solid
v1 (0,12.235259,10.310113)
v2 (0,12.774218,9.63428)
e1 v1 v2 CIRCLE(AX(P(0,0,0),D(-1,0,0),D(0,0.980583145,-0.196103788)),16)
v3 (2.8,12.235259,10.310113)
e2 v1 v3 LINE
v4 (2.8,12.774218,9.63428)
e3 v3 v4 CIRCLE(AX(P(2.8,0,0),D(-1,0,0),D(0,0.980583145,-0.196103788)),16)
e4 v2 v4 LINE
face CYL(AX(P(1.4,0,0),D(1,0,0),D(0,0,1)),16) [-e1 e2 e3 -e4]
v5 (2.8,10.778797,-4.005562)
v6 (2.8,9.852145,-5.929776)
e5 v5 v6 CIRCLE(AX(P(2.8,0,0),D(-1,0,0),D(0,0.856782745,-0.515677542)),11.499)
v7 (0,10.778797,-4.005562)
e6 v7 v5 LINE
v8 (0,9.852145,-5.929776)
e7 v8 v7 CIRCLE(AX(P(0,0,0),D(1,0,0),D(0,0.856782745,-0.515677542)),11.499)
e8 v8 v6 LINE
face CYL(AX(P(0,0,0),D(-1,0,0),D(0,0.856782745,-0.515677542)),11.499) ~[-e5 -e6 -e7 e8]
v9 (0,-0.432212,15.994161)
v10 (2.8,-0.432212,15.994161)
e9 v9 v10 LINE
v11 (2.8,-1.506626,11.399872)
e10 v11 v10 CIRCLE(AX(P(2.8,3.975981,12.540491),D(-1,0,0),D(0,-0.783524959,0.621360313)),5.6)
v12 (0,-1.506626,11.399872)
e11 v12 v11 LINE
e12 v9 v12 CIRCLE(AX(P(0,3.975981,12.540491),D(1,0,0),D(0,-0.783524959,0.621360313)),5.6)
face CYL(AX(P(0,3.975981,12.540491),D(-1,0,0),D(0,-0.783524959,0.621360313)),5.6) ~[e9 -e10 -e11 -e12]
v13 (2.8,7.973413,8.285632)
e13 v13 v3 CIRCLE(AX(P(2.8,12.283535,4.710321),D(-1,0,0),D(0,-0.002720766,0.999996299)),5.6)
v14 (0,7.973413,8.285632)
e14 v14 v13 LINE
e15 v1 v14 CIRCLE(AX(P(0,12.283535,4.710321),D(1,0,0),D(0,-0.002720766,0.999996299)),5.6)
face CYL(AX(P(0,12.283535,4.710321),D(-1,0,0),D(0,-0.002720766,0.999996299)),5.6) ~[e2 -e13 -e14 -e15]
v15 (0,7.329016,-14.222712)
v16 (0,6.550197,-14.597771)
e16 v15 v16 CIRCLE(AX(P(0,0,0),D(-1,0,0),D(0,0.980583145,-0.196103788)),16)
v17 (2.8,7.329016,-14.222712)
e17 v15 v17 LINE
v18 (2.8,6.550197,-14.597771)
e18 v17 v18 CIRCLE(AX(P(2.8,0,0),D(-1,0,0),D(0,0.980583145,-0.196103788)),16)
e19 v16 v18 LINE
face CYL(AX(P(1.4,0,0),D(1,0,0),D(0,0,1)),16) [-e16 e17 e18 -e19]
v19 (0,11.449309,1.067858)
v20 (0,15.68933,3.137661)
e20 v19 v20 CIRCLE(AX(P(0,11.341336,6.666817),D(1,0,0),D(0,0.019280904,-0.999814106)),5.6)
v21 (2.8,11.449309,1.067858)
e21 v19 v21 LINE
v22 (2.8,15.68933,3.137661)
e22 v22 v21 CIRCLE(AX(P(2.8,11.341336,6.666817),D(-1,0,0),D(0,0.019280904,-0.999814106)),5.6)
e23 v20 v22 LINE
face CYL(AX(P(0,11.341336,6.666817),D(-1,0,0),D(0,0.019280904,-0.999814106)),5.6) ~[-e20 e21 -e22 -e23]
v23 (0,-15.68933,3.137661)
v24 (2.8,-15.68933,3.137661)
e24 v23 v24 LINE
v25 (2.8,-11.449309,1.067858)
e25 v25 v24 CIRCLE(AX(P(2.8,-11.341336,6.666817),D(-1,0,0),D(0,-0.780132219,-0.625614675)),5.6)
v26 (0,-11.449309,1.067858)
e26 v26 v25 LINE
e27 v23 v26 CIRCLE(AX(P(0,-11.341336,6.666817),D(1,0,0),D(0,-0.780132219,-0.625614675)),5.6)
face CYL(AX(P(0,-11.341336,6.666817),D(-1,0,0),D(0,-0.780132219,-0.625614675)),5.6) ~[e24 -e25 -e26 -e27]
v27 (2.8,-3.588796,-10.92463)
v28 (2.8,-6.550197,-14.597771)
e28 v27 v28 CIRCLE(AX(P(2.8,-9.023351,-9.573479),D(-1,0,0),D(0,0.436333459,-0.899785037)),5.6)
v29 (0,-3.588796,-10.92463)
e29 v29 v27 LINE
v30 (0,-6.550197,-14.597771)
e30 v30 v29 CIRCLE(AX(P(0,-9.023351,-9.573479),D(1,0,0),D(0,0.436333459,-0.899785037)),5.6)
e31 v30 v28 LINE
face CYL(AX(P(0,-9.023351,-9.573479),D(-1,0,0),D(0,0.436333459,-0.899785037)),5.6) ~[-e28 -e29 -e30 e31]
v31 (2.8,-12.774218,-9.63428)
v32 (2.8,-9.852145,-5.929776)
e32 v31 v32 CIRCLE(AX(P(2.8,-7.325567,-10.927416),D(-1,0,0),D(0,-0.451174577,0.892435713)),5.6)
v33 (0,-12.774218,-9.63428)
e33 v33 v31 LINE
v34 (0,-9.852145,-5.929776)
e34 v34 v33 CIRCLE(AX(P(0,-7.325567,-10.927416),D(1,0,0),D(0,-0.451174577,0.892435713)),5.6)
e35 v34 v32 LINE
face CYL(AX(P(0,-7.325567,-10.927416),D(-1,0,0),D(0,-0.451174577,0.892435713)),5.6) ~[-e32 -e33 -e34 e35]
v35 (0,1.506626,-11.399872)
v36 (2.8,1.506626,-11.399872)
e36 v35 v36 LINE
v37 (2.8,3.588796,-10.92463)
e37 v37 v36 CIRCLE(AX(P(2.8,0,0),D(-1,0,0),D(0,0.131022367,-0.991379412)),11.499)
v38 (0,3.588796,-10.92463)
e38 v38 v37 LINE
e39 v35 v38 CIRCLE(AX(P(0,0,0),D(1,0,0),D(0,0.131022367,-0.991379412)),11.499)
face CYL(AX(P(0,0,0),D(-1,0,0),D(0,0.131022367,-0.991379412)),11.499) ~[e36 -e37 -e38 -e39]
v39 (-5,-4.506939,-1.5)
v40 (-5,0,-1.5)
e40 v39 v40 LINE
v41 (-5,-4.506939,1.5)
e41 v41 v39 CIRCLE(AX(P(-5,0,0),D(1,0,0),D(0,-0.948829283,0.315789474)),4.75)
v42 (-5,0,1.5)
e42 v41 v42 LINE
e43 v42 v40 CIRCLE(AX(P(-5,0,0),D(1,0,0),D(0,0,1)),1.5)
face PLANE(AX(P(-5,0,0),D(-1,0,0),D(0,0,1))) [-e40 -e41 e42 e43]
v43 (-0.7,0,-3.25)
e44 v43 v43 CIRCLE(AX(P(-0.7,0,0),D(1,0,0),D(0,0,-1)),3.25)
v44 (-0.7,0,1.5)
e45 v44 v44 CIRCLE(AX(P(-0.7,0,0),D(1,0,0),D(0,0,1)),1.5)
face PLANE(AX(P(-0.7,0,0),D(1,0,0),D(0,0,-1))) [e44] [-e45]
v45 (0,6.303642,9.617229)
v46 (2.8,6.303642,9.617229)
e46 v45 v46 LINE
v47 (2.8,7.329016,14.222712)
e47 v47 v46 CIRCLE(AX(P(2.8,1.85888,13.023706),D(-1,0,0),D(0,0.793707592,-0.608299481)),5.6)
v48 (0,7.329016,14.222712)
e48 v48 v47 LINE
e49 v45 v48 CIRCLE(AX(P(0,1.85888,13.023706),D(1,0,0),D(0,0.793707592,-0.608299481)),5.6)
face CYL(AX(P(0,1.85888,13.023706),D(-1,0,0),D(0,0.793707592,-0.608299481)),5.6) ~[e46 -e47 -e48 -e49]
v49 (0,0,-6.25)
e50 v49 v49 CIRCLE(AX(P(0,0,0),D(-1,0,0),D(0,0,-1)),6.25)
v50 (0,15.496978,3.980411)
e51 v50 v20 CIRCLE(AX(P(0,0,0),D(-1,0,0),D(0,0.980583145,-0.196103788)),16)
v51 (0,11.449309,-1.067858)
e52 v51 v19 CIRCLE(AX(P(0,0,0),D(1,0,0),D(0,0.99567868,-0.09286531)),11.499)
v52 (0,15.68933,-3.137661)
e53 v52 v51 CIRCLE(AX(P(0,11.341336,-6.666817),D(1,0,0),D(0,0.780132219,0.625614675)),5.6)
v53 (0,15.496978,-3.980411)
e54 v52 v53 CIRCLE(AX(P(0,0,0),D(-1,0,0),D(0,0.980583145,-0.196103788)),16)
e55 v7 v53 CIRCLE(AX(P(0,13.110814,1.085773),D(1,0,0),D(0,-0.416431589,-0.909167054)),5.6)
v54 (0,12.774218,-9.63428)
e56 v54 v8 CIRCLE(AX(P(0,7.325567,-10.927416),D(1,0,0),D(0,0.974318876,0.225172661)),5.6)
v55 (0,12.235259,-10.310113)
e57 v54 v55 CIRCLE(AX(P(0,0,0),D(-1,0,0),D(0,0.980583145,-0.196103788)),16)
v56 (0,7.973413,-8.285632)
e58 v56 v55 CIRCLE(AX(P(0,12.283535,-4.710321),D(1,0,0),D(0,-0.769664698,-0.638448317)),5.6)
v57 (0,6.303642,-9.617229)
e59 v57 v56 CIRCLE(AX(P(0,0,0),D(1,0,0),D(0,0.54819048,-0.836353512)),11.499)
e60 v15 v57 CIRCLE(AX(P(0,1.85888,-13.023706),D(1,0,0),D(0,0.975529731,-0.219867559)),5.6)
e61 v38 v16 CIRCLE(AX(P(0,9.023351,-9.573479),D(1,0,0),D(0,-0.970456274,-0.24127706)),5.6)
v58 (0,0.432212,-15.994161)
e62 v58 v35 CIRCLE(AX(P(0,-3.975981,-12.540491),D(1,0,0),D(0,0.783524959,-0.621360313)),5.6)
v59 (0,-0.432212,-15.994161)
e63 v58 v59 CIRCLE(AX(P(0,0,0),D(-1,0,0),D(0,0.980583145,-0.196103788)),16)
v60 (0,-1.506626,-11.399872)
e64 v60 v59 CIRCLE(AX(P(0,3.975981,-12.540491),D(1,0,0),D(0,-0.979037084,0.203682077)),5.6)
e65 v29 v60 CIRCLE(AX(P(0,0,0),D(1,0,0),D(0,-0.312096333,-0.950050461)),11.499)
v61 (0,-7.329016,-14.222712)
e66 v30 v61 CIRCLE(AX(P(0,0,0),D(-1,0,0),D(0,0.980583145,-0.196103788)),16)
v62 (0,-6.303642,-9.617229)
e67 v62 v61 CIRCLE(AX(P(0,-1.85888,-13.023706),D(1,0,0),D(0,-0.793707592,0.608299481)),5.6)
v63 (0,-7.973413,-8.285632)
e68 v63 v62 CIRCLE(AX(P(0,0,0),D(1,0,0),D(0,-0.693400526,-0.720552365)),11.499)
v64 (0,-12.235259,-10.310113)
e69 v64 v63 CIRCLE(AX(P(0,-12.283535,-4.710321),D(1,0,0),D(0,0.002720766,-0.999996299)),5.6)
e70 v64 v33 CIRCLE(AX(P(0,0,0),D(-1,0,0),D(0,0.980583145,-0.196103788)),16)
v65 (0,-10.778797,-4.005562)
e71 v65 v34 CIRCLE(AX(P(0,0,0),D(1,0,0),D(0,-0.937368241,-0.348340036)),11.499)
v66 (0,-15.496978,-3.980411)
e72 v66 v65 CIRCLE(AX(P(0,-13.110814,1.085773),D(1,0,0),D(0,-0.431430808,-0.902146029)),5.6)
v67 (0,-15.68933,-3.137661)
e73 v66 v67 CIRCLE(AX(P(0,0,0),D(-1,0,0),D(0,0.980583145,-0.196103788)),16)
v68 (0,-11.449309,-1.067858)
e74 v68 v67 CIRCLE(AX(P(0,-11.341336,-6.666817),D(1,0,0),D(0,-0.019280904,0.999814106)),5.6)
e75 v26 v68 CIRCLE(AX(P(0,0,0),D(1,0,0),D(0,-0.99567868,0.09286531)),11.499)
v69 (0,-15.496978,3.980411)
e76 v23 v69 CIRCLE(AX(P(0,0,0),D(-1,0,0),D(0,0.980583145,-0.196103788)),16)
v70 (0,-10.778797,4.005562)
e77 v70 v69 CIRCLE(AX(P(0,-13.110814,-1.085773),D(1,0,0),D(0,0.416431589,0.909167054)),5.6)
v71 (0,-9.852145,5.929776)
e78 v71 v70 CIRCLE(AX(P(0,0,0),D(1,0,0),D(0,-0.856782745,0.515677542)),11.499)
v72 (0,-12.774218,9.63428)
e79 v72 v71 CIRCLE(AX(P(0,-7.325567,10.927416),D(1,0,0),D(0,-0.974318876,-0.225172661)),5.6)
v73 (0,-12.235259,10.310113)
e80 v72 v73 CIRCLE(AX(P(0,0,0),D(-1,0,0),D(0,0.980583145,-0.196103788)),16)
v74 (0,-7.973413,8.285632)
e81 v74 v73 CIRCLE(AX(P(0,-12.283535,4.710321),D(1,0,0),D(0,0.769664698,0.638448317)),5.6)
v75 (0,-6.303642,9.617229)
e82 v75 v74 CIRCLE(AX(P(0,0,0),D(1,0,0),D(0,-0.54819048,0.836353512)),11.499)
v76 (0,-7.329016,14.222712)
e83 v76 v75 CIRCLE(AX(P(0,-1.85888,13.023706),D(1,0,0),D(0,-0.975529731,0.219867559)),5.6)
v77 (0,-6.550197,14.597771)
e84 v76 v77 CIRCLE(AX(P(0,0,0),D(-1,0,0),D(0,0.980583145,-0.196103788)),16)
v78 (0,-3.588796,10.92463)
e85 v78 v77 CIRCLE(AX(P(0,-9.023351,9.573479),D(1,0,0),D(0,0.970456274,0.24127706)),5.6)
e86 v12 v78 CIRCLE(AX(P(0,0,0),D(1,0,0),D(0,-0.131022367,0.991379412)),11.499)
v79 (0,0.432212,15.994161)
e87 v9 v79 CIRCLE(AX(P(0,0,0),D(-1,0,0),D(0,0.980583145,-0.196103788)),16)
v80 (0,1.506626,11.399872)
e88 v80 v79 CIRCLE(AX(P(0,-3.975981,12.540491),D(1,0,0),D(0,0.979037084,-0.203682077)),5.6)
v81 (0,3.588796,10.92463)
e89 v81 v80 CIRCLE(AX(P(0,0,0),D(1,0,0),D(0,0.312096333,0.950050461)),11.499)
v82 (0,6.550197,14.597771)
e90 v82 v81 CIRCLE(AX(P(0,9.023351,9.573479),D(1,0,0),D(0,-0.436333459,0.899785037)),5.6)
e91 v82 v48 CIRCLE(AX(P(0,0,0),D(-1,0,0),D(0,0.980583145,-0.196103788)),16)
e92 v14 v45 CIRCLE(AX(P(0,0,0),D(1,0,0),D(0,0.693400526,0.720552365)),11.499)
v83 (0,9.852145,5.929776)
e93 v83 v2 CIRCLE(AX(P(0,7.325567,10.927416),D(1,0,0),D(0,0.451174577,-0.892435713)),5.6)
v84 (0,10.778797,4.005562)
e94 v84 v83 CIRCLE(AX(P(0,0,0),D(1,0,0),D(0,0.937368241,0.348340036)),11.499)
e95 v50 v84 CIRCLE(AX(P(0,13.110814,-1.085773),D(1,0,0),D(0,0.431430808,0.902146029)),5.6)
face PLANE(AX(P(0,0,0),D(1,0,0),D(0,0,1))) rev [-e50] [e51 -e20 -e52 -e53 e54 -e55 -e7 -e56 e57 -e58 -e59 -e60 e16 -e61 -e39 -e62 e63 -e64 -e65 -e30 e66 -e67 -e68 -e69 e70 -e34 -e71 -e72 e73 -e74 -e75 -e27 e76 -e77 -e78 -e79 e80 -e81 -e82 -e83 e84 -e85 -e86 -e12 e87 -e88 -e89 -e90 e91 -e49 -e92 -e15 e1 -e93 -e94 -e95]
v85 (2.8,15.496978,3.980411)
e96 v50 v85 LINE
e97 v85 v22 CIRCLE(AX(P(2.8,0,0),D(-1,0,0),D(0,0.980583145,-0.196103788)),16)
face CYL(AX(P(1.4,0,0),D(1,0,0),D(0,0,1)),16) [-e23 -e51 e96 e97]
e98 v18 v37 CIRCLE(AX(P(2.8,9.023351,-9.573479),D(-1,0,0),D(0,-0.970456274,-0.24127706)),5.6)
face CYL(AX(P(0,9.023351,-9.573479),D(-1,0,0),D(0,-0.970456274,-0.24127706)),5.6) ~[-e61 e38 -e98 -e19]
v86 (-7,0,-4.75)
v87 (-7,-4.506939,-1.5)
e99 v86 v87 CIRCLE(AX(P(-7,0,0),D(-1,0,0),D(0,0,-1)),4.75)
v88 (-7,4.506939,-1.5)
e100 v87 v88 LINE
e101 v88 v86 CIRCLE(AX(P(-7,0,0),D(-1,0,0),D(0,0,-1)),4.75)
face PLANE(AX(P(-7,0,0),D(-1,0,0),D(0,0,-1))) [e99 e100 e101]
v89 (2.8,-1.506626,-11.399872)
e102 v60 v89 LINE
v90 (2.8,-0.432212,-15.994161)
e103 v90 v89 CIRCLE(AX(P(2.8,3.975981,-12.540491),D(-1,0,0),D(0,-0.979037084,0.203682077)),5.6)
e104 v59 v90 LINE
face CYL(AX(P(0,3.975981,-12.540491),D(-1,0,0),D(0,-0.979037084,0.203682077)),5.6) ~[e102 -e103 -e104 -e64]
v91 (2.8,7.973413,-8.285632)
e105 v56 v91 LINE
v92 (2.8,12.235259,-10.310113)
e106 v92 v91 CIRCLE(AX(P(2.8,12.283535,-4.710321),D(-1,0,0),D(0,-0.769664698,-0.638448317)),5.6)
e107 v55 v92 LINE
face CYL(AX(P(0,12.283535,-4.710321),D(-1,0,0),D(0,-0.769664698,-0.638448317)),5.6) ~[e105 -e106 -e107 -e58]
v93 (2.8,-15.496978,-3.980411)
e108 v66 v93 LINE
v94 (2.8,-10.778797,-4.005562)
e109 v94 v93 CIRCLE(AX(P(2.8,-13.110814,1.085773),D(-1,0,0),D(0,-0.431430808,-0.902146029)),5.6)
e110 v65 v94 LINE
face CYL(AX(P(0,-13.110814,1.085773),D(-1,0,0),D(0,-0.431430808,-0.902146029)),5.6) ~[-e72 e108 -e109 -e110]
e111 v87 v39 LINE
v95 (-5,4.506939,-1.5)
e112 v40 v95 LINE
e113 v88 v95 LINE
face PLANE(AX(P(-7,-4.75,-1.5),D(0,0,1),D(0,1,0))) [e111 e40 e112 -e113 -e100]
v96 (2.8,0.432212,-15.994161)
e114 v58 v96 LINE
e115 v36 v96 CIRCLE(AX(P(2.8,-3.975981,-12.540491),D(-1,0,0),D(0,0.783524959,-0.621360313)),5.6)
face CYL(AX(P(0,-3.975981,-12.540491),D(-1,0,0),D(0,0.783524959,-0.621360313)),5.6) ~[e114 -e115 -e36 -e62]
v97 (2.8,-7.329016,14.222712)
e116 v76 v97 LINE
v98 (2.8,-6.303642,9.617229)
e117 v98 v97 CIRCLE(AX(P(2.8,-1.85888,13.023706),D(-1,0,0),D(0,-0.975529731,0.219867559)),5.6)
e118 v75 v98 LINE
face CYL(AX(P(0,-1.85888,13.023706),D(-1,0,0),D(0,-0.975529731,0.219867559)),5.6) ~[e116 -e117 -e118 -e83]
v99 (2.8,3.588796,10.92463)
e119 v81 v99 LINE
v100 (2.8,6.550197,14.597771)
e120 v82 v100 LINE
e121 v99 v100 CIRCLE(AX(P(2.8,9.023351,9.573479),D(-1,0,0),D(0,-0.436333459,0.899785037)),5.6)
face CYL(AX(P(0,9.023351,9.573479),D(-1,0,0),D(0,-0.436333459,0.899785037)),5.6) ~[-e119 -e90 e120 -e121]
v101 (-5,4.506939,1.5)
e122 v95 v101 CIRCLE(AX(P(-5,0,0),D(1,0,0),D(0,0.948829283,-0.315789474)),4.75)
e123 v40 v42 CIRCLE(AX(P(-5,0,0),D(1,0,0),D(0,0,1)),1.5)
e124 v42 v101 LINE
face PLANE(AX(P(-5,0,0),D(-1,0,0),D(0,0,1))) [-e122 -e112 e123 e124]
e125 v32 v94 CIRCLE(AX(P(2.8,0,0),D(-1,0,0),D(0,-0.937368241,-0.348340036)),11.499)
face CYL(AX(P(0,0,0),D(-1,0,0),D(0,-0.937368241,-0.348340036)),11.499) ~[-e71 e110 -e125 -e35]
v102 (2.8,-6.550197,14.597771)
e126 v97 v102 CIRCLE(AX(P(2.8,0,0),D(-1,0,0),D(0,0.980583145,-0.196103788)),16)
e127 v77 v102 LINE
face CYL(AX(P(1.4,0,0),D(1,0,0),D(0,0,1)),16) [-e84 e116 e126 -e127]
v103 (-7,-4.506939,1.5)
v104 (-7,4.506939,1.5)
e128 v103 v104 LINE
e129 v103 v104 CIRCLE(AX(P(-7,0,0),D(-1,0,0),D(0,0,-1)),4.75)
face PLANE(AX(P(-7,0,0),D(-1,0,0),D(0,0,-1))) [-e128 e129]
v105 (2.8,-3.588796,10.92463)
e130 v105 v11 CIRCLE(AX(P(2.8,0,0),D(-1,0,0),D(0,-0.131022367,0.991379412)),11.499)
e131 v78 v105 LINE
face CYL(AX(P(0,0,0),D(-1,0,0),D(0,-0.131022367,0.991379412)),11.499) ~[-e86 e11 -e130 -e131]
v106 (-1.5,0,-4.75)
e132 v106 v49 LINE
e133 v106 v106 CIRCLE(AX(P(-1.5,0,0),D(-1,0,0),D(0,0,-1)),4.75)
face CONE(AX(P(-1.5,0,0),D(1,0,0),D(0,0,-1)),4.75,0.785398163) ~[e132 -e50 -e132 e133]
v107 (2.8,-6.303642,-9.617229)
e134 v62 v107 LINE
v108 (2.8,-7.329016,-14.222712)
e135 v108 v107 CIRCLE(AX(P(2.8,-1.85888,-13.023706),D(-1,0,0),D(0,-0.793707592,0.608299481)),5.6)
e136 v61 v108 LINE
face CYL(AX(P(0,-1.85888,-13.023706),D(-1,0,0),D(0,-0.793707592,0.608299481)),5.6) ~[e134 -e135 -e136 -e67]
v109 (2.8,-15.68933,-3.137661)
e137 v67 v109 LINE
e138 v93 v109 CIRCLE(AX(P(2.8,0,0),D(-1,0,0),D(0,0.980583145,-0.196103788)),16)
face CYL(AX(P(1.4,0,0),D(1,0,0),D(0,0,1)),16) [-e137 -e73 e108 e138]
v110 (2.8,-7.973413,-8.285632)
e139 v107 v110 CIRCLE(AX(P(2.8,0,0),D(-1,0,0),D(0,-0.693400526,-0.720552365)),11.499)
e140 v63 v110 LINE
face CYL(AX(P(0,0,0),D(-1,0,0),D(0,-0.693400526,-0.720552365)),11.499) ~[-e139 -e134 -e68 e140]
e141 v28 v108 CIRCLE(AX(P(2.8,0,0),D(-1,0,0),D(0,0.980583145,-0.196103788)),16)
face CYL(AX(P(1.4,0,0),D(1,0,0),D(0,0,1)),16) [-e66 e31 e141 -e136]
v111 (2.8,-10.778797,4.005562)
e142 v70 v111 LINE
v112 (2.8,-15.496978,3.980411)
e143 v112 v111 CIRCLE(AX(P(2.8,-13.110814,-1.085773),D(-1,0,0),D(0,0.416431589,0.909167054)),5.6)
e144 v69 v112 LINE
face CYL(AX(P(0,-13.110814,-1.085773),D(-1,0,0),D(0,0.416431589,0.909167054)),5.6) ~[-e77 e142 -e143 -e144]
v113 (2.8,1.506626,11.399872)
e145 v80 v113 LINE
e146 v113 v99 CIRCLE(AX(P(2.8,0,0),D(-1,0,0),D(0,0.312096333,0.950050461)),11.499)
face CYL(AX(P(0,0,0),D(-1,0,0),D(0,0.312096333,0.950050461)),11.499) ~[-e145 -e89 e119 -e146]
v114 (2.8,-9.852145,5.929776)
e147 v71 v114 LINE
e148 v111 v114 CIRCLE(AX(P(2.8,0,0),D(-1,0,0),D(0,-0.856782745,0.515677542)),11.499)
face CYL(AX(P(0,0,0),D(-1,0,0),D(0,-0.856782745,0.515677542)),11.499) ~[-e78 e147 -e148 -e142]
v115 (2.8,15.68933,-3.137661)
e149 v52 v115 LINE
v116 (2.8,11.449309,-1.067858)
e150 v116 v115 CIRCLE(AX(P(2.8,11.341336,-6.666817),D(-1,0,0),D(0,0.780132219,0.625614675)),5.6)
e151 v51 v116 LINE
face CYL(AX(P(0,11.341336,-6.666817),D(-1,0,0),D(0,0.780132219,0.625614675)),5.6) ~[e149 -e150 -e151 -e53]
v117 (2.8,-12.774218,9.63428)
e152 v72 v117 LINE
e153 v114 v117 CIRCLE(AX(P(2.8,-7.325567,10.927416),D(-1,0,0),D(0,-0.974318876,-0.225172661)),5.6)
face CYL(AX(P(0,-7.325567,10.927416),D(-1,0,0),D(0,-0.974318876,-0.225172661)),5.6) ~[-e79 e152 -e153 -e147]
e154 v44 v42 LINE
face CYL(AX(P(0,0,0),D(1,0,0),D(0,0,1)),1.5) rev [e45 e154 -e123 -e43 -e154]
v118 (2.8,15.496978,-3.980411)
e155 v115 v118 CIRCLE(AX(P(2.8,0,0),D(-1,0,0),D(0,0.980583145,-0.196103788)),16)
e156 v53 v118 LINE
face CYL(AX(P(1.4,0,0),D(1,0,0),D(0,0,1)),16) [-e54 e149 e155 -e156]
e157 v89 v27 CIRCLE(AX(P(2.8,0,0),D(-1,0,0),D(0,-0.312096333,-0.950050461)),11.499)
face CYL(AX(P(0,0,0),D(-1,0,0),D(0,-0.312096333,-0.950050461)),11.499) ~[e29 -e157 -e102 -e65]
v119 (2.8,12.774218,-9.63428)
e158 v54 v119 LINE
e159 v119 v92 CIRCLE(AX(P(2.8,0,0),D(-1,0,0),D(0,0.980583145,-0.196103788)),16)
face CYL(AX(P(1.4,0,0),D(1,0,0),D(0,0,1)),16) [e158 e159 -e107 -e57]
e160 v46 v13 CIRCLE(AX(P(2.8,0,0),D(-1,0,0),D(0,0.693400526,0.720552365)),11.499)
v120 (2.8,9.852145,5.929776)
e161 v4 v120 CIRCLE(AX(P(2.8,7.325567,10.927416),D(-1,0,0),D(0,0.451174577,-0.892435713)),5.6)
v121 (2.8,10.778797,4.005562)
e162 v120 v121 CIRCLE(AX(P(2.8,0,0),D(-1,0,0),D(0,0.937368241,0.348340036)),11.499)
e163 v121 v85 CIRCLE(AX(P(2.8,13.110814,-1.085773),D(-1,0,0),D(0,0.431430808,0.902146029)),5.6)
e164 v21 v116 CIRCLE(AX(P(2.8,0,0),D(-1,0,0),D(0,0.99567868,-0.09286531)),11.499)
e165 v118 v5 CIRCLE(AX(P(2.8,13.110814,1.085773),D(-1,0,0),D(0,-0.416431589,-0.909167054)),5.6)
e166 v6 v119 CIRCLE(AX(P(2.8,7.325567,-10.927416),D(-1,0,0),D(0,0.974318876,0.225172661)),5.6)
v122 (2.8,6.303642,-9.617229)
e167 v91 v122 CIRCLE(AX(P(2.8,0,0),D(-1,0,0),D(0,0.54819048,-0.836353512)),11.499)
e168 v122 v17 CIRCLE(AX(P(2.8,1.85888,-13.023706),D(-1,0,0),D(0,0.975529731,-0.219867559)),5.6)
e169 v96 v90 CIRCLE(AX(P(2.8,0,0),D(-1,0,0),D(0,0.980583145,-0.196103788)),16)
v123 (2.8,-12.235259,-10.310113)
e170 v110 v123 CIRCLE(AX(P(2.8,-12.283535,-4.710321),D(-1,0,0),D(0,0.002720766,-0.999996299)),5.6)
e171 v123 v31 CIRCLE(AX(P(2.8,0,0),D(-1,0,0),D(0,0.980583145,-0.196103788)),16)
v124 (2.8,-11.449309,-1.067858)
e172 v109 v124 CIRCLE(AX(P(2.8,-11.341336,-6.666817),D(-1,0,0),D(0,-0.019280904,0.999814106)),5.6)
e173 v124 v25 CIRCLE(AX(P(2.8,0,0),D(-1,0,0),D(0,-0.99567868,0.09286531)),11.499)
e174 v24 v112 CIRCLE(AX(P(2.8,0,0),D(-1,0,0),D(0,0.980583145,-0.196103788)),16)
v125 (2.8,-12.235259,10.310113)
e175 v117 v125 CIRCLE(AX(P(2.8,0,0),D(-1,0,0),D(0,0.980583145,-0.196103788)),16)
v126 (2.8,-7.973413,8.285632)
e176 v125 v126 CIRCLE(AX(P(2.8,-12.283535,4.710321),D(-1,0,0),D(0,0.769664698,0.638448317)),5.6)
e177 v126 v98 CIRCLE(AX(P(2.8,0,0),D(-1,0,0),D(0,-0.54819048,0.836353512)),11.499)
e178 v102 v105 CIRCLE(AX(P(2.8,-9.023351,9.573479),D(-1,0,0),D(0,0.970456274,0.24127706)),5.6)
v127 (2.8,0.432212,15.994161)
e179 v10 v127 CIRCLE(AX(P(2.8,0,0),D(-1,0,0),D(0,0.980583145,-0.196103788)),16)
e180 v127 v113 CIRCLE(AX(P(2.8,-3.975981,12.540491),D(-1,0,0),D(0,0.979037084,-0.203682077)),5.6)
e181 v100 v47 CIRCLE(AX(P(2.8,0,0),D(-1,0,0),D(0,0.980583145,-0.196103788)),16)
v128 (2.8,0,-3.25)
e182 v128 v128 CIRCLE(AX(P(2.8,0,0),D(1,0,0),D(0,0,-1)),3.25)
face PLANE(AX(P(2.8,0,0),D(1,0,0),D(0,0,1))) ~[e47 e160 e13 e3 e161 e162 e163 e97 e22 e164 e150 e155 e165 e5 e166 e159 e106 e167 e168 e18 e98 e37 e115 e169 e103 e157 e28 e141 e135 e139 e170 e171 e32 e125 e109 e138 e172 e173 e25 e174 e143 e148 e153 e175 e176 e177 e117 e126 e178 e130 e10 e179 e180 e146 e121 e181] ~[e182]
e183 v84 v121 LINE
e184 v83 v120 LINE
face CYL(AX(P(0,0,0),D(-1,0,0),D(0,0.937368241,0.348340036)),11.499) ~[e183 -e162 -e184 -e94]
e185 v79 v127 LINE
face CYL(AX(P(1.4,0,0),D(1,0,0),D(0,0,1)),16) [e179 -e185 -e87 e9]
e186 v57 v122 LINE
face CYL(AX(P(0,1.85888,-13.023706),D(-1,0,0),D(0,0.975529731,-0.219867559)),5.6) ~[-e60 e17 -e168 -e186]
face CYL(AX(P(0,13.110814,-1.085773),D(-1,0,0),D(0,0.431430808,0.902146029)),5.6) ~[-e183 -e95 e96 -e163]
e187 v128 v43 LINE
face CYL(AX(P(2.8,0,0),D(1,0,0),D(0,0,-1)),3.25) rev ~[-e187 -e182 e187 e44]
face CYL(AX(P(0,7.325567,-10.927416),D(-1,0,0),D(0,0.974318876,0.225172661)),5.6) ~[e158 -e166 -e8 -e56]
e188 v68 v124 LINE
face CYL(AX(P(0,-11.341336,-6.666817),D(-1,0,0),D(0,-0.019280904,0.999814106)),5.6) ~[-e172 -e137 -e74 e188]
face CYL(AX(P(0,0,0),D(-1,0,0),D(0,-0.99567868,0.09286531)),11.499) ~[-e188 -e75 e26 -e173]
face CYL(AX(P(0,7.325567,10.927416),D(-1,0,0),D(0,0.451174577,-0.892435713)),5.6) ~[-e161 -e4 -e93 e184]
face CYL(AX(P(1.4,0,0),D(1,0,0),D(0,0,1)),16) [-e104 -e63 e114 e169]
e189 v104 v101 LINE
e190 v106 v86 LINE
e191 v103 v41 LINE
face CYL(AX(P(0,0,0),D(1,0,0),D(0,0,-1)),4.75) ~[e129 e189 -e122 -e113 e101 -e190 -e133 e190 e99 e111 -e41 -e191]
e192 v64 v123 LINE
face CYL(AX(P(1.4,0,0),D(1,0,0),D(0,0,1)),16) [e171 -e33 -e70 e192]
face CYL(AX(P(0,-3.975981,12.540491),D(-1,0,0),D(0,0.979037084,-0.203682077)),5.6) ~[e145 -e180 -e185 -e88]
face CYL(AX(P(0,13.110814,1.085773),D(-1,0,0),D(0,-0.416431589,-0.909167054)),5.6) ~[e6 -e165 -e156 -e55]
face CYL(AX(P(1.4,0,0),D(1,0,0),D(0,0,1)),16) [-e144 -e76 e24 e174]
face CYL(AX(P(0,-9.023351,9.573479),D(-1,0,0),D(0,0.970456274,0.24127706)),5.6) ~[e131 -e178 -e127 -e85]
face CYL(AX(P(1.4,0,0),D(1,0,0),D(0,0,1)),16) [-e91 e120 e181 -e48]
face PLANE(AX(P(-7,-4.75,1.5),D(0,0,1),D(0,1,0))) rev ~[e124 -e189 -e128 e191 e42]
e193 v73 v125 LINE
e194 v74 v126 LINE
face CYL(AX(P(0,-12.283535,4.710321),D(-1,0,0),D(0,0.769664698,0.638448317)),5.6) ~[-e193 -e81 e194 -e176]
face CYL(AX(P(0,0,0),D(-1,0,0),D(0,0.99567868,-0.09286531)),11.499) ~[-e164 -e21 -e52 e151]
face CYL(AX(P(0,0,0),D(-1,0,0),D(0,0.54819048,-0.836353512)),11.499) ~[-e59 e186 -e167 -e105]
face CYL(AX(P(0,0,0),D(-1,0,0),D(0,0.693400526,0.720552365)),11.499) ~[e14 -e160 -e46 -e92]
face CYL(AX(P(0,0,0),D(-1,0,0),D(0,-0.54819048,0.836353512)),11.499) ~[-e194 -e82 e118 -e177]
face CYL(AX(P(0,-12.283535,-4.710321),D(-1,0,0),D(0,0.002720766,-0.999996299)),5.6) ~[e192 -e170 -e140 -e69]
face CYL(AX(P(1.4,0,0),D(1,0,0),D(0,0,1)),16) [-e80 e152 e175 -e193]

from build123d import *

# Parameters (mm, degrees)
BASPROSKE_W         = 2.8
BASPROSKE_H         = 16
TOOTHCUT_DEPTH      = 23.8
TEETHCUTS_COUNT     = 14
BORSKE_R            = 1.5
BORE_DEPTH          = 50.0000508
SKETCH_2_R          = 4.75
SKETCH_2_R_2        = 1.5
EXTRUDE_1_DEPTH     = 7
SKETCH_3_R          = 3.25
CUT_EXTRUDE_1_DEPTH = 3.5
CHAMFER_1_SIZE      = 1.5
SKETCH_4_W          = 3
SKETCH_4_H          = 9.5
CUT_EXTRUDE_2_DEPTH = 2


with BuildPart() as part:
    # BasProSke → Base-Revolve (revolve)
    with BuildSketch(Plane(origin=(0, 0, 0), x_dir=(1, 0, 0), z_dir=(0, 1, 0)), mode=Mode.PRIVATE) as base_revolve_sk:
        with Locations((1.4, 8)):
            Rectangle(BASPROSKE_W, BASPROSKE_H)
    revolve(base_revolve_sk.sketch.rotate(Axis((-10, 0, 0), (1, 0, 0)), 180), axis=Axis((-10, 0, 0), (1, 0, 0)))

    # TooCutSke → ToothCut (cut, through all)
    with BuildSketch(Plane(origin=(0, 0, 0), x_dir=(0, 0, -1), z_dir=(1, 0, 0))):
        with BuildLine():
            ThreePointArc((1.067858192, 11.449309144), (0, 11.499), (-1.067858192, 11.449309144))
            ThreePointArc((-1.067858192, 11.449309144), (-1.641684211, 13.812780716), (-3.163375005, 15.710076503))
            ThreePointArc((-3.163375005, 15.710076503), (0, 16.0254), (3.163375005, 15.710076503))
            ThreePointArc((3.163375005, 15.710076503), (1.641684211, 13.812780716), (1.067858192, 11.449309144))
        make_face()
    toothcut = extrude(amount=TOOTHCUT_DEPTH, mode=Mode.SUBTRACT)

    # TeethCuts: ToothCut ×14 about axis
    teethcuts_axis = Axis((0, 0, 0), (1, 0, 0))
    for i in range(1, TEETHCUTS_COUNT):
        add(toothcut.rotate(teethcuts_axis, i * 360 / TEETHCUTS_COUNT), mode=Mode.SUBTRACT)

    # BorSke → Bore (cut, symmetric)
    with BuildSketch(Plane(origin=(0, 0, 0), x_dir=(0, 0, -1), z_dir=(1, 0, 0))):
        with Locations(Location((0, 0, 0), (0, 0, 180))):
            Circle(BORSKE_R)
    extrude(amount=BORE_DEPTH, both=True, mode=Mode.SUBTRACT)

    # ｽｹｯﾁ2 → ﾎﾞｽ - 押し出し1 (add)
    with BuildSketch(Plane.ZY):
        with Locations(Location((0, 0, 0), (0, 0, 180))):
            Circle(SKETCH_2_R)
        Circle(SKETCH_2_R_2, mode=Mode.SUBTRACT)
    extrude(amount=EXTRUDE_1_DEPTH)

    # ｽｹｯﾁ3 → ｶｯﾄ - 押し出し1 (cut)
    with BuildSketch(Plane(origin=(2.8, 0, 0), x_dir=(0, 0, -1), z_dir=(1, 0, 0))):
        Circle(SKETCH_3_R)
    extrude(amount=-CUT_EXTRUDE_1_DEPTH, mode=Mode.SUBTRACT)

    # 面取り1
    chamfer_1_edges = [part.edges().sort_by_distance(p)[0] for p in [
        (0, 0, 4.75),
    ]]
    chamfer(chamfer_1_edges, length=CHAMFER_1_SIZE)

    # ｽｹｯﾁ4 → ｶｯﾄ - 押し出し2 (cut)
    with BuildSketch(Plane.ZY.offset(7)):
        Rectangle(SKETCH_4_W, SKETCH_4_H)
    extrude(amount=-CUT_EXTRUDE_2_DEPTH, mode=Mode.SUBTRACT)


solid = part.part
